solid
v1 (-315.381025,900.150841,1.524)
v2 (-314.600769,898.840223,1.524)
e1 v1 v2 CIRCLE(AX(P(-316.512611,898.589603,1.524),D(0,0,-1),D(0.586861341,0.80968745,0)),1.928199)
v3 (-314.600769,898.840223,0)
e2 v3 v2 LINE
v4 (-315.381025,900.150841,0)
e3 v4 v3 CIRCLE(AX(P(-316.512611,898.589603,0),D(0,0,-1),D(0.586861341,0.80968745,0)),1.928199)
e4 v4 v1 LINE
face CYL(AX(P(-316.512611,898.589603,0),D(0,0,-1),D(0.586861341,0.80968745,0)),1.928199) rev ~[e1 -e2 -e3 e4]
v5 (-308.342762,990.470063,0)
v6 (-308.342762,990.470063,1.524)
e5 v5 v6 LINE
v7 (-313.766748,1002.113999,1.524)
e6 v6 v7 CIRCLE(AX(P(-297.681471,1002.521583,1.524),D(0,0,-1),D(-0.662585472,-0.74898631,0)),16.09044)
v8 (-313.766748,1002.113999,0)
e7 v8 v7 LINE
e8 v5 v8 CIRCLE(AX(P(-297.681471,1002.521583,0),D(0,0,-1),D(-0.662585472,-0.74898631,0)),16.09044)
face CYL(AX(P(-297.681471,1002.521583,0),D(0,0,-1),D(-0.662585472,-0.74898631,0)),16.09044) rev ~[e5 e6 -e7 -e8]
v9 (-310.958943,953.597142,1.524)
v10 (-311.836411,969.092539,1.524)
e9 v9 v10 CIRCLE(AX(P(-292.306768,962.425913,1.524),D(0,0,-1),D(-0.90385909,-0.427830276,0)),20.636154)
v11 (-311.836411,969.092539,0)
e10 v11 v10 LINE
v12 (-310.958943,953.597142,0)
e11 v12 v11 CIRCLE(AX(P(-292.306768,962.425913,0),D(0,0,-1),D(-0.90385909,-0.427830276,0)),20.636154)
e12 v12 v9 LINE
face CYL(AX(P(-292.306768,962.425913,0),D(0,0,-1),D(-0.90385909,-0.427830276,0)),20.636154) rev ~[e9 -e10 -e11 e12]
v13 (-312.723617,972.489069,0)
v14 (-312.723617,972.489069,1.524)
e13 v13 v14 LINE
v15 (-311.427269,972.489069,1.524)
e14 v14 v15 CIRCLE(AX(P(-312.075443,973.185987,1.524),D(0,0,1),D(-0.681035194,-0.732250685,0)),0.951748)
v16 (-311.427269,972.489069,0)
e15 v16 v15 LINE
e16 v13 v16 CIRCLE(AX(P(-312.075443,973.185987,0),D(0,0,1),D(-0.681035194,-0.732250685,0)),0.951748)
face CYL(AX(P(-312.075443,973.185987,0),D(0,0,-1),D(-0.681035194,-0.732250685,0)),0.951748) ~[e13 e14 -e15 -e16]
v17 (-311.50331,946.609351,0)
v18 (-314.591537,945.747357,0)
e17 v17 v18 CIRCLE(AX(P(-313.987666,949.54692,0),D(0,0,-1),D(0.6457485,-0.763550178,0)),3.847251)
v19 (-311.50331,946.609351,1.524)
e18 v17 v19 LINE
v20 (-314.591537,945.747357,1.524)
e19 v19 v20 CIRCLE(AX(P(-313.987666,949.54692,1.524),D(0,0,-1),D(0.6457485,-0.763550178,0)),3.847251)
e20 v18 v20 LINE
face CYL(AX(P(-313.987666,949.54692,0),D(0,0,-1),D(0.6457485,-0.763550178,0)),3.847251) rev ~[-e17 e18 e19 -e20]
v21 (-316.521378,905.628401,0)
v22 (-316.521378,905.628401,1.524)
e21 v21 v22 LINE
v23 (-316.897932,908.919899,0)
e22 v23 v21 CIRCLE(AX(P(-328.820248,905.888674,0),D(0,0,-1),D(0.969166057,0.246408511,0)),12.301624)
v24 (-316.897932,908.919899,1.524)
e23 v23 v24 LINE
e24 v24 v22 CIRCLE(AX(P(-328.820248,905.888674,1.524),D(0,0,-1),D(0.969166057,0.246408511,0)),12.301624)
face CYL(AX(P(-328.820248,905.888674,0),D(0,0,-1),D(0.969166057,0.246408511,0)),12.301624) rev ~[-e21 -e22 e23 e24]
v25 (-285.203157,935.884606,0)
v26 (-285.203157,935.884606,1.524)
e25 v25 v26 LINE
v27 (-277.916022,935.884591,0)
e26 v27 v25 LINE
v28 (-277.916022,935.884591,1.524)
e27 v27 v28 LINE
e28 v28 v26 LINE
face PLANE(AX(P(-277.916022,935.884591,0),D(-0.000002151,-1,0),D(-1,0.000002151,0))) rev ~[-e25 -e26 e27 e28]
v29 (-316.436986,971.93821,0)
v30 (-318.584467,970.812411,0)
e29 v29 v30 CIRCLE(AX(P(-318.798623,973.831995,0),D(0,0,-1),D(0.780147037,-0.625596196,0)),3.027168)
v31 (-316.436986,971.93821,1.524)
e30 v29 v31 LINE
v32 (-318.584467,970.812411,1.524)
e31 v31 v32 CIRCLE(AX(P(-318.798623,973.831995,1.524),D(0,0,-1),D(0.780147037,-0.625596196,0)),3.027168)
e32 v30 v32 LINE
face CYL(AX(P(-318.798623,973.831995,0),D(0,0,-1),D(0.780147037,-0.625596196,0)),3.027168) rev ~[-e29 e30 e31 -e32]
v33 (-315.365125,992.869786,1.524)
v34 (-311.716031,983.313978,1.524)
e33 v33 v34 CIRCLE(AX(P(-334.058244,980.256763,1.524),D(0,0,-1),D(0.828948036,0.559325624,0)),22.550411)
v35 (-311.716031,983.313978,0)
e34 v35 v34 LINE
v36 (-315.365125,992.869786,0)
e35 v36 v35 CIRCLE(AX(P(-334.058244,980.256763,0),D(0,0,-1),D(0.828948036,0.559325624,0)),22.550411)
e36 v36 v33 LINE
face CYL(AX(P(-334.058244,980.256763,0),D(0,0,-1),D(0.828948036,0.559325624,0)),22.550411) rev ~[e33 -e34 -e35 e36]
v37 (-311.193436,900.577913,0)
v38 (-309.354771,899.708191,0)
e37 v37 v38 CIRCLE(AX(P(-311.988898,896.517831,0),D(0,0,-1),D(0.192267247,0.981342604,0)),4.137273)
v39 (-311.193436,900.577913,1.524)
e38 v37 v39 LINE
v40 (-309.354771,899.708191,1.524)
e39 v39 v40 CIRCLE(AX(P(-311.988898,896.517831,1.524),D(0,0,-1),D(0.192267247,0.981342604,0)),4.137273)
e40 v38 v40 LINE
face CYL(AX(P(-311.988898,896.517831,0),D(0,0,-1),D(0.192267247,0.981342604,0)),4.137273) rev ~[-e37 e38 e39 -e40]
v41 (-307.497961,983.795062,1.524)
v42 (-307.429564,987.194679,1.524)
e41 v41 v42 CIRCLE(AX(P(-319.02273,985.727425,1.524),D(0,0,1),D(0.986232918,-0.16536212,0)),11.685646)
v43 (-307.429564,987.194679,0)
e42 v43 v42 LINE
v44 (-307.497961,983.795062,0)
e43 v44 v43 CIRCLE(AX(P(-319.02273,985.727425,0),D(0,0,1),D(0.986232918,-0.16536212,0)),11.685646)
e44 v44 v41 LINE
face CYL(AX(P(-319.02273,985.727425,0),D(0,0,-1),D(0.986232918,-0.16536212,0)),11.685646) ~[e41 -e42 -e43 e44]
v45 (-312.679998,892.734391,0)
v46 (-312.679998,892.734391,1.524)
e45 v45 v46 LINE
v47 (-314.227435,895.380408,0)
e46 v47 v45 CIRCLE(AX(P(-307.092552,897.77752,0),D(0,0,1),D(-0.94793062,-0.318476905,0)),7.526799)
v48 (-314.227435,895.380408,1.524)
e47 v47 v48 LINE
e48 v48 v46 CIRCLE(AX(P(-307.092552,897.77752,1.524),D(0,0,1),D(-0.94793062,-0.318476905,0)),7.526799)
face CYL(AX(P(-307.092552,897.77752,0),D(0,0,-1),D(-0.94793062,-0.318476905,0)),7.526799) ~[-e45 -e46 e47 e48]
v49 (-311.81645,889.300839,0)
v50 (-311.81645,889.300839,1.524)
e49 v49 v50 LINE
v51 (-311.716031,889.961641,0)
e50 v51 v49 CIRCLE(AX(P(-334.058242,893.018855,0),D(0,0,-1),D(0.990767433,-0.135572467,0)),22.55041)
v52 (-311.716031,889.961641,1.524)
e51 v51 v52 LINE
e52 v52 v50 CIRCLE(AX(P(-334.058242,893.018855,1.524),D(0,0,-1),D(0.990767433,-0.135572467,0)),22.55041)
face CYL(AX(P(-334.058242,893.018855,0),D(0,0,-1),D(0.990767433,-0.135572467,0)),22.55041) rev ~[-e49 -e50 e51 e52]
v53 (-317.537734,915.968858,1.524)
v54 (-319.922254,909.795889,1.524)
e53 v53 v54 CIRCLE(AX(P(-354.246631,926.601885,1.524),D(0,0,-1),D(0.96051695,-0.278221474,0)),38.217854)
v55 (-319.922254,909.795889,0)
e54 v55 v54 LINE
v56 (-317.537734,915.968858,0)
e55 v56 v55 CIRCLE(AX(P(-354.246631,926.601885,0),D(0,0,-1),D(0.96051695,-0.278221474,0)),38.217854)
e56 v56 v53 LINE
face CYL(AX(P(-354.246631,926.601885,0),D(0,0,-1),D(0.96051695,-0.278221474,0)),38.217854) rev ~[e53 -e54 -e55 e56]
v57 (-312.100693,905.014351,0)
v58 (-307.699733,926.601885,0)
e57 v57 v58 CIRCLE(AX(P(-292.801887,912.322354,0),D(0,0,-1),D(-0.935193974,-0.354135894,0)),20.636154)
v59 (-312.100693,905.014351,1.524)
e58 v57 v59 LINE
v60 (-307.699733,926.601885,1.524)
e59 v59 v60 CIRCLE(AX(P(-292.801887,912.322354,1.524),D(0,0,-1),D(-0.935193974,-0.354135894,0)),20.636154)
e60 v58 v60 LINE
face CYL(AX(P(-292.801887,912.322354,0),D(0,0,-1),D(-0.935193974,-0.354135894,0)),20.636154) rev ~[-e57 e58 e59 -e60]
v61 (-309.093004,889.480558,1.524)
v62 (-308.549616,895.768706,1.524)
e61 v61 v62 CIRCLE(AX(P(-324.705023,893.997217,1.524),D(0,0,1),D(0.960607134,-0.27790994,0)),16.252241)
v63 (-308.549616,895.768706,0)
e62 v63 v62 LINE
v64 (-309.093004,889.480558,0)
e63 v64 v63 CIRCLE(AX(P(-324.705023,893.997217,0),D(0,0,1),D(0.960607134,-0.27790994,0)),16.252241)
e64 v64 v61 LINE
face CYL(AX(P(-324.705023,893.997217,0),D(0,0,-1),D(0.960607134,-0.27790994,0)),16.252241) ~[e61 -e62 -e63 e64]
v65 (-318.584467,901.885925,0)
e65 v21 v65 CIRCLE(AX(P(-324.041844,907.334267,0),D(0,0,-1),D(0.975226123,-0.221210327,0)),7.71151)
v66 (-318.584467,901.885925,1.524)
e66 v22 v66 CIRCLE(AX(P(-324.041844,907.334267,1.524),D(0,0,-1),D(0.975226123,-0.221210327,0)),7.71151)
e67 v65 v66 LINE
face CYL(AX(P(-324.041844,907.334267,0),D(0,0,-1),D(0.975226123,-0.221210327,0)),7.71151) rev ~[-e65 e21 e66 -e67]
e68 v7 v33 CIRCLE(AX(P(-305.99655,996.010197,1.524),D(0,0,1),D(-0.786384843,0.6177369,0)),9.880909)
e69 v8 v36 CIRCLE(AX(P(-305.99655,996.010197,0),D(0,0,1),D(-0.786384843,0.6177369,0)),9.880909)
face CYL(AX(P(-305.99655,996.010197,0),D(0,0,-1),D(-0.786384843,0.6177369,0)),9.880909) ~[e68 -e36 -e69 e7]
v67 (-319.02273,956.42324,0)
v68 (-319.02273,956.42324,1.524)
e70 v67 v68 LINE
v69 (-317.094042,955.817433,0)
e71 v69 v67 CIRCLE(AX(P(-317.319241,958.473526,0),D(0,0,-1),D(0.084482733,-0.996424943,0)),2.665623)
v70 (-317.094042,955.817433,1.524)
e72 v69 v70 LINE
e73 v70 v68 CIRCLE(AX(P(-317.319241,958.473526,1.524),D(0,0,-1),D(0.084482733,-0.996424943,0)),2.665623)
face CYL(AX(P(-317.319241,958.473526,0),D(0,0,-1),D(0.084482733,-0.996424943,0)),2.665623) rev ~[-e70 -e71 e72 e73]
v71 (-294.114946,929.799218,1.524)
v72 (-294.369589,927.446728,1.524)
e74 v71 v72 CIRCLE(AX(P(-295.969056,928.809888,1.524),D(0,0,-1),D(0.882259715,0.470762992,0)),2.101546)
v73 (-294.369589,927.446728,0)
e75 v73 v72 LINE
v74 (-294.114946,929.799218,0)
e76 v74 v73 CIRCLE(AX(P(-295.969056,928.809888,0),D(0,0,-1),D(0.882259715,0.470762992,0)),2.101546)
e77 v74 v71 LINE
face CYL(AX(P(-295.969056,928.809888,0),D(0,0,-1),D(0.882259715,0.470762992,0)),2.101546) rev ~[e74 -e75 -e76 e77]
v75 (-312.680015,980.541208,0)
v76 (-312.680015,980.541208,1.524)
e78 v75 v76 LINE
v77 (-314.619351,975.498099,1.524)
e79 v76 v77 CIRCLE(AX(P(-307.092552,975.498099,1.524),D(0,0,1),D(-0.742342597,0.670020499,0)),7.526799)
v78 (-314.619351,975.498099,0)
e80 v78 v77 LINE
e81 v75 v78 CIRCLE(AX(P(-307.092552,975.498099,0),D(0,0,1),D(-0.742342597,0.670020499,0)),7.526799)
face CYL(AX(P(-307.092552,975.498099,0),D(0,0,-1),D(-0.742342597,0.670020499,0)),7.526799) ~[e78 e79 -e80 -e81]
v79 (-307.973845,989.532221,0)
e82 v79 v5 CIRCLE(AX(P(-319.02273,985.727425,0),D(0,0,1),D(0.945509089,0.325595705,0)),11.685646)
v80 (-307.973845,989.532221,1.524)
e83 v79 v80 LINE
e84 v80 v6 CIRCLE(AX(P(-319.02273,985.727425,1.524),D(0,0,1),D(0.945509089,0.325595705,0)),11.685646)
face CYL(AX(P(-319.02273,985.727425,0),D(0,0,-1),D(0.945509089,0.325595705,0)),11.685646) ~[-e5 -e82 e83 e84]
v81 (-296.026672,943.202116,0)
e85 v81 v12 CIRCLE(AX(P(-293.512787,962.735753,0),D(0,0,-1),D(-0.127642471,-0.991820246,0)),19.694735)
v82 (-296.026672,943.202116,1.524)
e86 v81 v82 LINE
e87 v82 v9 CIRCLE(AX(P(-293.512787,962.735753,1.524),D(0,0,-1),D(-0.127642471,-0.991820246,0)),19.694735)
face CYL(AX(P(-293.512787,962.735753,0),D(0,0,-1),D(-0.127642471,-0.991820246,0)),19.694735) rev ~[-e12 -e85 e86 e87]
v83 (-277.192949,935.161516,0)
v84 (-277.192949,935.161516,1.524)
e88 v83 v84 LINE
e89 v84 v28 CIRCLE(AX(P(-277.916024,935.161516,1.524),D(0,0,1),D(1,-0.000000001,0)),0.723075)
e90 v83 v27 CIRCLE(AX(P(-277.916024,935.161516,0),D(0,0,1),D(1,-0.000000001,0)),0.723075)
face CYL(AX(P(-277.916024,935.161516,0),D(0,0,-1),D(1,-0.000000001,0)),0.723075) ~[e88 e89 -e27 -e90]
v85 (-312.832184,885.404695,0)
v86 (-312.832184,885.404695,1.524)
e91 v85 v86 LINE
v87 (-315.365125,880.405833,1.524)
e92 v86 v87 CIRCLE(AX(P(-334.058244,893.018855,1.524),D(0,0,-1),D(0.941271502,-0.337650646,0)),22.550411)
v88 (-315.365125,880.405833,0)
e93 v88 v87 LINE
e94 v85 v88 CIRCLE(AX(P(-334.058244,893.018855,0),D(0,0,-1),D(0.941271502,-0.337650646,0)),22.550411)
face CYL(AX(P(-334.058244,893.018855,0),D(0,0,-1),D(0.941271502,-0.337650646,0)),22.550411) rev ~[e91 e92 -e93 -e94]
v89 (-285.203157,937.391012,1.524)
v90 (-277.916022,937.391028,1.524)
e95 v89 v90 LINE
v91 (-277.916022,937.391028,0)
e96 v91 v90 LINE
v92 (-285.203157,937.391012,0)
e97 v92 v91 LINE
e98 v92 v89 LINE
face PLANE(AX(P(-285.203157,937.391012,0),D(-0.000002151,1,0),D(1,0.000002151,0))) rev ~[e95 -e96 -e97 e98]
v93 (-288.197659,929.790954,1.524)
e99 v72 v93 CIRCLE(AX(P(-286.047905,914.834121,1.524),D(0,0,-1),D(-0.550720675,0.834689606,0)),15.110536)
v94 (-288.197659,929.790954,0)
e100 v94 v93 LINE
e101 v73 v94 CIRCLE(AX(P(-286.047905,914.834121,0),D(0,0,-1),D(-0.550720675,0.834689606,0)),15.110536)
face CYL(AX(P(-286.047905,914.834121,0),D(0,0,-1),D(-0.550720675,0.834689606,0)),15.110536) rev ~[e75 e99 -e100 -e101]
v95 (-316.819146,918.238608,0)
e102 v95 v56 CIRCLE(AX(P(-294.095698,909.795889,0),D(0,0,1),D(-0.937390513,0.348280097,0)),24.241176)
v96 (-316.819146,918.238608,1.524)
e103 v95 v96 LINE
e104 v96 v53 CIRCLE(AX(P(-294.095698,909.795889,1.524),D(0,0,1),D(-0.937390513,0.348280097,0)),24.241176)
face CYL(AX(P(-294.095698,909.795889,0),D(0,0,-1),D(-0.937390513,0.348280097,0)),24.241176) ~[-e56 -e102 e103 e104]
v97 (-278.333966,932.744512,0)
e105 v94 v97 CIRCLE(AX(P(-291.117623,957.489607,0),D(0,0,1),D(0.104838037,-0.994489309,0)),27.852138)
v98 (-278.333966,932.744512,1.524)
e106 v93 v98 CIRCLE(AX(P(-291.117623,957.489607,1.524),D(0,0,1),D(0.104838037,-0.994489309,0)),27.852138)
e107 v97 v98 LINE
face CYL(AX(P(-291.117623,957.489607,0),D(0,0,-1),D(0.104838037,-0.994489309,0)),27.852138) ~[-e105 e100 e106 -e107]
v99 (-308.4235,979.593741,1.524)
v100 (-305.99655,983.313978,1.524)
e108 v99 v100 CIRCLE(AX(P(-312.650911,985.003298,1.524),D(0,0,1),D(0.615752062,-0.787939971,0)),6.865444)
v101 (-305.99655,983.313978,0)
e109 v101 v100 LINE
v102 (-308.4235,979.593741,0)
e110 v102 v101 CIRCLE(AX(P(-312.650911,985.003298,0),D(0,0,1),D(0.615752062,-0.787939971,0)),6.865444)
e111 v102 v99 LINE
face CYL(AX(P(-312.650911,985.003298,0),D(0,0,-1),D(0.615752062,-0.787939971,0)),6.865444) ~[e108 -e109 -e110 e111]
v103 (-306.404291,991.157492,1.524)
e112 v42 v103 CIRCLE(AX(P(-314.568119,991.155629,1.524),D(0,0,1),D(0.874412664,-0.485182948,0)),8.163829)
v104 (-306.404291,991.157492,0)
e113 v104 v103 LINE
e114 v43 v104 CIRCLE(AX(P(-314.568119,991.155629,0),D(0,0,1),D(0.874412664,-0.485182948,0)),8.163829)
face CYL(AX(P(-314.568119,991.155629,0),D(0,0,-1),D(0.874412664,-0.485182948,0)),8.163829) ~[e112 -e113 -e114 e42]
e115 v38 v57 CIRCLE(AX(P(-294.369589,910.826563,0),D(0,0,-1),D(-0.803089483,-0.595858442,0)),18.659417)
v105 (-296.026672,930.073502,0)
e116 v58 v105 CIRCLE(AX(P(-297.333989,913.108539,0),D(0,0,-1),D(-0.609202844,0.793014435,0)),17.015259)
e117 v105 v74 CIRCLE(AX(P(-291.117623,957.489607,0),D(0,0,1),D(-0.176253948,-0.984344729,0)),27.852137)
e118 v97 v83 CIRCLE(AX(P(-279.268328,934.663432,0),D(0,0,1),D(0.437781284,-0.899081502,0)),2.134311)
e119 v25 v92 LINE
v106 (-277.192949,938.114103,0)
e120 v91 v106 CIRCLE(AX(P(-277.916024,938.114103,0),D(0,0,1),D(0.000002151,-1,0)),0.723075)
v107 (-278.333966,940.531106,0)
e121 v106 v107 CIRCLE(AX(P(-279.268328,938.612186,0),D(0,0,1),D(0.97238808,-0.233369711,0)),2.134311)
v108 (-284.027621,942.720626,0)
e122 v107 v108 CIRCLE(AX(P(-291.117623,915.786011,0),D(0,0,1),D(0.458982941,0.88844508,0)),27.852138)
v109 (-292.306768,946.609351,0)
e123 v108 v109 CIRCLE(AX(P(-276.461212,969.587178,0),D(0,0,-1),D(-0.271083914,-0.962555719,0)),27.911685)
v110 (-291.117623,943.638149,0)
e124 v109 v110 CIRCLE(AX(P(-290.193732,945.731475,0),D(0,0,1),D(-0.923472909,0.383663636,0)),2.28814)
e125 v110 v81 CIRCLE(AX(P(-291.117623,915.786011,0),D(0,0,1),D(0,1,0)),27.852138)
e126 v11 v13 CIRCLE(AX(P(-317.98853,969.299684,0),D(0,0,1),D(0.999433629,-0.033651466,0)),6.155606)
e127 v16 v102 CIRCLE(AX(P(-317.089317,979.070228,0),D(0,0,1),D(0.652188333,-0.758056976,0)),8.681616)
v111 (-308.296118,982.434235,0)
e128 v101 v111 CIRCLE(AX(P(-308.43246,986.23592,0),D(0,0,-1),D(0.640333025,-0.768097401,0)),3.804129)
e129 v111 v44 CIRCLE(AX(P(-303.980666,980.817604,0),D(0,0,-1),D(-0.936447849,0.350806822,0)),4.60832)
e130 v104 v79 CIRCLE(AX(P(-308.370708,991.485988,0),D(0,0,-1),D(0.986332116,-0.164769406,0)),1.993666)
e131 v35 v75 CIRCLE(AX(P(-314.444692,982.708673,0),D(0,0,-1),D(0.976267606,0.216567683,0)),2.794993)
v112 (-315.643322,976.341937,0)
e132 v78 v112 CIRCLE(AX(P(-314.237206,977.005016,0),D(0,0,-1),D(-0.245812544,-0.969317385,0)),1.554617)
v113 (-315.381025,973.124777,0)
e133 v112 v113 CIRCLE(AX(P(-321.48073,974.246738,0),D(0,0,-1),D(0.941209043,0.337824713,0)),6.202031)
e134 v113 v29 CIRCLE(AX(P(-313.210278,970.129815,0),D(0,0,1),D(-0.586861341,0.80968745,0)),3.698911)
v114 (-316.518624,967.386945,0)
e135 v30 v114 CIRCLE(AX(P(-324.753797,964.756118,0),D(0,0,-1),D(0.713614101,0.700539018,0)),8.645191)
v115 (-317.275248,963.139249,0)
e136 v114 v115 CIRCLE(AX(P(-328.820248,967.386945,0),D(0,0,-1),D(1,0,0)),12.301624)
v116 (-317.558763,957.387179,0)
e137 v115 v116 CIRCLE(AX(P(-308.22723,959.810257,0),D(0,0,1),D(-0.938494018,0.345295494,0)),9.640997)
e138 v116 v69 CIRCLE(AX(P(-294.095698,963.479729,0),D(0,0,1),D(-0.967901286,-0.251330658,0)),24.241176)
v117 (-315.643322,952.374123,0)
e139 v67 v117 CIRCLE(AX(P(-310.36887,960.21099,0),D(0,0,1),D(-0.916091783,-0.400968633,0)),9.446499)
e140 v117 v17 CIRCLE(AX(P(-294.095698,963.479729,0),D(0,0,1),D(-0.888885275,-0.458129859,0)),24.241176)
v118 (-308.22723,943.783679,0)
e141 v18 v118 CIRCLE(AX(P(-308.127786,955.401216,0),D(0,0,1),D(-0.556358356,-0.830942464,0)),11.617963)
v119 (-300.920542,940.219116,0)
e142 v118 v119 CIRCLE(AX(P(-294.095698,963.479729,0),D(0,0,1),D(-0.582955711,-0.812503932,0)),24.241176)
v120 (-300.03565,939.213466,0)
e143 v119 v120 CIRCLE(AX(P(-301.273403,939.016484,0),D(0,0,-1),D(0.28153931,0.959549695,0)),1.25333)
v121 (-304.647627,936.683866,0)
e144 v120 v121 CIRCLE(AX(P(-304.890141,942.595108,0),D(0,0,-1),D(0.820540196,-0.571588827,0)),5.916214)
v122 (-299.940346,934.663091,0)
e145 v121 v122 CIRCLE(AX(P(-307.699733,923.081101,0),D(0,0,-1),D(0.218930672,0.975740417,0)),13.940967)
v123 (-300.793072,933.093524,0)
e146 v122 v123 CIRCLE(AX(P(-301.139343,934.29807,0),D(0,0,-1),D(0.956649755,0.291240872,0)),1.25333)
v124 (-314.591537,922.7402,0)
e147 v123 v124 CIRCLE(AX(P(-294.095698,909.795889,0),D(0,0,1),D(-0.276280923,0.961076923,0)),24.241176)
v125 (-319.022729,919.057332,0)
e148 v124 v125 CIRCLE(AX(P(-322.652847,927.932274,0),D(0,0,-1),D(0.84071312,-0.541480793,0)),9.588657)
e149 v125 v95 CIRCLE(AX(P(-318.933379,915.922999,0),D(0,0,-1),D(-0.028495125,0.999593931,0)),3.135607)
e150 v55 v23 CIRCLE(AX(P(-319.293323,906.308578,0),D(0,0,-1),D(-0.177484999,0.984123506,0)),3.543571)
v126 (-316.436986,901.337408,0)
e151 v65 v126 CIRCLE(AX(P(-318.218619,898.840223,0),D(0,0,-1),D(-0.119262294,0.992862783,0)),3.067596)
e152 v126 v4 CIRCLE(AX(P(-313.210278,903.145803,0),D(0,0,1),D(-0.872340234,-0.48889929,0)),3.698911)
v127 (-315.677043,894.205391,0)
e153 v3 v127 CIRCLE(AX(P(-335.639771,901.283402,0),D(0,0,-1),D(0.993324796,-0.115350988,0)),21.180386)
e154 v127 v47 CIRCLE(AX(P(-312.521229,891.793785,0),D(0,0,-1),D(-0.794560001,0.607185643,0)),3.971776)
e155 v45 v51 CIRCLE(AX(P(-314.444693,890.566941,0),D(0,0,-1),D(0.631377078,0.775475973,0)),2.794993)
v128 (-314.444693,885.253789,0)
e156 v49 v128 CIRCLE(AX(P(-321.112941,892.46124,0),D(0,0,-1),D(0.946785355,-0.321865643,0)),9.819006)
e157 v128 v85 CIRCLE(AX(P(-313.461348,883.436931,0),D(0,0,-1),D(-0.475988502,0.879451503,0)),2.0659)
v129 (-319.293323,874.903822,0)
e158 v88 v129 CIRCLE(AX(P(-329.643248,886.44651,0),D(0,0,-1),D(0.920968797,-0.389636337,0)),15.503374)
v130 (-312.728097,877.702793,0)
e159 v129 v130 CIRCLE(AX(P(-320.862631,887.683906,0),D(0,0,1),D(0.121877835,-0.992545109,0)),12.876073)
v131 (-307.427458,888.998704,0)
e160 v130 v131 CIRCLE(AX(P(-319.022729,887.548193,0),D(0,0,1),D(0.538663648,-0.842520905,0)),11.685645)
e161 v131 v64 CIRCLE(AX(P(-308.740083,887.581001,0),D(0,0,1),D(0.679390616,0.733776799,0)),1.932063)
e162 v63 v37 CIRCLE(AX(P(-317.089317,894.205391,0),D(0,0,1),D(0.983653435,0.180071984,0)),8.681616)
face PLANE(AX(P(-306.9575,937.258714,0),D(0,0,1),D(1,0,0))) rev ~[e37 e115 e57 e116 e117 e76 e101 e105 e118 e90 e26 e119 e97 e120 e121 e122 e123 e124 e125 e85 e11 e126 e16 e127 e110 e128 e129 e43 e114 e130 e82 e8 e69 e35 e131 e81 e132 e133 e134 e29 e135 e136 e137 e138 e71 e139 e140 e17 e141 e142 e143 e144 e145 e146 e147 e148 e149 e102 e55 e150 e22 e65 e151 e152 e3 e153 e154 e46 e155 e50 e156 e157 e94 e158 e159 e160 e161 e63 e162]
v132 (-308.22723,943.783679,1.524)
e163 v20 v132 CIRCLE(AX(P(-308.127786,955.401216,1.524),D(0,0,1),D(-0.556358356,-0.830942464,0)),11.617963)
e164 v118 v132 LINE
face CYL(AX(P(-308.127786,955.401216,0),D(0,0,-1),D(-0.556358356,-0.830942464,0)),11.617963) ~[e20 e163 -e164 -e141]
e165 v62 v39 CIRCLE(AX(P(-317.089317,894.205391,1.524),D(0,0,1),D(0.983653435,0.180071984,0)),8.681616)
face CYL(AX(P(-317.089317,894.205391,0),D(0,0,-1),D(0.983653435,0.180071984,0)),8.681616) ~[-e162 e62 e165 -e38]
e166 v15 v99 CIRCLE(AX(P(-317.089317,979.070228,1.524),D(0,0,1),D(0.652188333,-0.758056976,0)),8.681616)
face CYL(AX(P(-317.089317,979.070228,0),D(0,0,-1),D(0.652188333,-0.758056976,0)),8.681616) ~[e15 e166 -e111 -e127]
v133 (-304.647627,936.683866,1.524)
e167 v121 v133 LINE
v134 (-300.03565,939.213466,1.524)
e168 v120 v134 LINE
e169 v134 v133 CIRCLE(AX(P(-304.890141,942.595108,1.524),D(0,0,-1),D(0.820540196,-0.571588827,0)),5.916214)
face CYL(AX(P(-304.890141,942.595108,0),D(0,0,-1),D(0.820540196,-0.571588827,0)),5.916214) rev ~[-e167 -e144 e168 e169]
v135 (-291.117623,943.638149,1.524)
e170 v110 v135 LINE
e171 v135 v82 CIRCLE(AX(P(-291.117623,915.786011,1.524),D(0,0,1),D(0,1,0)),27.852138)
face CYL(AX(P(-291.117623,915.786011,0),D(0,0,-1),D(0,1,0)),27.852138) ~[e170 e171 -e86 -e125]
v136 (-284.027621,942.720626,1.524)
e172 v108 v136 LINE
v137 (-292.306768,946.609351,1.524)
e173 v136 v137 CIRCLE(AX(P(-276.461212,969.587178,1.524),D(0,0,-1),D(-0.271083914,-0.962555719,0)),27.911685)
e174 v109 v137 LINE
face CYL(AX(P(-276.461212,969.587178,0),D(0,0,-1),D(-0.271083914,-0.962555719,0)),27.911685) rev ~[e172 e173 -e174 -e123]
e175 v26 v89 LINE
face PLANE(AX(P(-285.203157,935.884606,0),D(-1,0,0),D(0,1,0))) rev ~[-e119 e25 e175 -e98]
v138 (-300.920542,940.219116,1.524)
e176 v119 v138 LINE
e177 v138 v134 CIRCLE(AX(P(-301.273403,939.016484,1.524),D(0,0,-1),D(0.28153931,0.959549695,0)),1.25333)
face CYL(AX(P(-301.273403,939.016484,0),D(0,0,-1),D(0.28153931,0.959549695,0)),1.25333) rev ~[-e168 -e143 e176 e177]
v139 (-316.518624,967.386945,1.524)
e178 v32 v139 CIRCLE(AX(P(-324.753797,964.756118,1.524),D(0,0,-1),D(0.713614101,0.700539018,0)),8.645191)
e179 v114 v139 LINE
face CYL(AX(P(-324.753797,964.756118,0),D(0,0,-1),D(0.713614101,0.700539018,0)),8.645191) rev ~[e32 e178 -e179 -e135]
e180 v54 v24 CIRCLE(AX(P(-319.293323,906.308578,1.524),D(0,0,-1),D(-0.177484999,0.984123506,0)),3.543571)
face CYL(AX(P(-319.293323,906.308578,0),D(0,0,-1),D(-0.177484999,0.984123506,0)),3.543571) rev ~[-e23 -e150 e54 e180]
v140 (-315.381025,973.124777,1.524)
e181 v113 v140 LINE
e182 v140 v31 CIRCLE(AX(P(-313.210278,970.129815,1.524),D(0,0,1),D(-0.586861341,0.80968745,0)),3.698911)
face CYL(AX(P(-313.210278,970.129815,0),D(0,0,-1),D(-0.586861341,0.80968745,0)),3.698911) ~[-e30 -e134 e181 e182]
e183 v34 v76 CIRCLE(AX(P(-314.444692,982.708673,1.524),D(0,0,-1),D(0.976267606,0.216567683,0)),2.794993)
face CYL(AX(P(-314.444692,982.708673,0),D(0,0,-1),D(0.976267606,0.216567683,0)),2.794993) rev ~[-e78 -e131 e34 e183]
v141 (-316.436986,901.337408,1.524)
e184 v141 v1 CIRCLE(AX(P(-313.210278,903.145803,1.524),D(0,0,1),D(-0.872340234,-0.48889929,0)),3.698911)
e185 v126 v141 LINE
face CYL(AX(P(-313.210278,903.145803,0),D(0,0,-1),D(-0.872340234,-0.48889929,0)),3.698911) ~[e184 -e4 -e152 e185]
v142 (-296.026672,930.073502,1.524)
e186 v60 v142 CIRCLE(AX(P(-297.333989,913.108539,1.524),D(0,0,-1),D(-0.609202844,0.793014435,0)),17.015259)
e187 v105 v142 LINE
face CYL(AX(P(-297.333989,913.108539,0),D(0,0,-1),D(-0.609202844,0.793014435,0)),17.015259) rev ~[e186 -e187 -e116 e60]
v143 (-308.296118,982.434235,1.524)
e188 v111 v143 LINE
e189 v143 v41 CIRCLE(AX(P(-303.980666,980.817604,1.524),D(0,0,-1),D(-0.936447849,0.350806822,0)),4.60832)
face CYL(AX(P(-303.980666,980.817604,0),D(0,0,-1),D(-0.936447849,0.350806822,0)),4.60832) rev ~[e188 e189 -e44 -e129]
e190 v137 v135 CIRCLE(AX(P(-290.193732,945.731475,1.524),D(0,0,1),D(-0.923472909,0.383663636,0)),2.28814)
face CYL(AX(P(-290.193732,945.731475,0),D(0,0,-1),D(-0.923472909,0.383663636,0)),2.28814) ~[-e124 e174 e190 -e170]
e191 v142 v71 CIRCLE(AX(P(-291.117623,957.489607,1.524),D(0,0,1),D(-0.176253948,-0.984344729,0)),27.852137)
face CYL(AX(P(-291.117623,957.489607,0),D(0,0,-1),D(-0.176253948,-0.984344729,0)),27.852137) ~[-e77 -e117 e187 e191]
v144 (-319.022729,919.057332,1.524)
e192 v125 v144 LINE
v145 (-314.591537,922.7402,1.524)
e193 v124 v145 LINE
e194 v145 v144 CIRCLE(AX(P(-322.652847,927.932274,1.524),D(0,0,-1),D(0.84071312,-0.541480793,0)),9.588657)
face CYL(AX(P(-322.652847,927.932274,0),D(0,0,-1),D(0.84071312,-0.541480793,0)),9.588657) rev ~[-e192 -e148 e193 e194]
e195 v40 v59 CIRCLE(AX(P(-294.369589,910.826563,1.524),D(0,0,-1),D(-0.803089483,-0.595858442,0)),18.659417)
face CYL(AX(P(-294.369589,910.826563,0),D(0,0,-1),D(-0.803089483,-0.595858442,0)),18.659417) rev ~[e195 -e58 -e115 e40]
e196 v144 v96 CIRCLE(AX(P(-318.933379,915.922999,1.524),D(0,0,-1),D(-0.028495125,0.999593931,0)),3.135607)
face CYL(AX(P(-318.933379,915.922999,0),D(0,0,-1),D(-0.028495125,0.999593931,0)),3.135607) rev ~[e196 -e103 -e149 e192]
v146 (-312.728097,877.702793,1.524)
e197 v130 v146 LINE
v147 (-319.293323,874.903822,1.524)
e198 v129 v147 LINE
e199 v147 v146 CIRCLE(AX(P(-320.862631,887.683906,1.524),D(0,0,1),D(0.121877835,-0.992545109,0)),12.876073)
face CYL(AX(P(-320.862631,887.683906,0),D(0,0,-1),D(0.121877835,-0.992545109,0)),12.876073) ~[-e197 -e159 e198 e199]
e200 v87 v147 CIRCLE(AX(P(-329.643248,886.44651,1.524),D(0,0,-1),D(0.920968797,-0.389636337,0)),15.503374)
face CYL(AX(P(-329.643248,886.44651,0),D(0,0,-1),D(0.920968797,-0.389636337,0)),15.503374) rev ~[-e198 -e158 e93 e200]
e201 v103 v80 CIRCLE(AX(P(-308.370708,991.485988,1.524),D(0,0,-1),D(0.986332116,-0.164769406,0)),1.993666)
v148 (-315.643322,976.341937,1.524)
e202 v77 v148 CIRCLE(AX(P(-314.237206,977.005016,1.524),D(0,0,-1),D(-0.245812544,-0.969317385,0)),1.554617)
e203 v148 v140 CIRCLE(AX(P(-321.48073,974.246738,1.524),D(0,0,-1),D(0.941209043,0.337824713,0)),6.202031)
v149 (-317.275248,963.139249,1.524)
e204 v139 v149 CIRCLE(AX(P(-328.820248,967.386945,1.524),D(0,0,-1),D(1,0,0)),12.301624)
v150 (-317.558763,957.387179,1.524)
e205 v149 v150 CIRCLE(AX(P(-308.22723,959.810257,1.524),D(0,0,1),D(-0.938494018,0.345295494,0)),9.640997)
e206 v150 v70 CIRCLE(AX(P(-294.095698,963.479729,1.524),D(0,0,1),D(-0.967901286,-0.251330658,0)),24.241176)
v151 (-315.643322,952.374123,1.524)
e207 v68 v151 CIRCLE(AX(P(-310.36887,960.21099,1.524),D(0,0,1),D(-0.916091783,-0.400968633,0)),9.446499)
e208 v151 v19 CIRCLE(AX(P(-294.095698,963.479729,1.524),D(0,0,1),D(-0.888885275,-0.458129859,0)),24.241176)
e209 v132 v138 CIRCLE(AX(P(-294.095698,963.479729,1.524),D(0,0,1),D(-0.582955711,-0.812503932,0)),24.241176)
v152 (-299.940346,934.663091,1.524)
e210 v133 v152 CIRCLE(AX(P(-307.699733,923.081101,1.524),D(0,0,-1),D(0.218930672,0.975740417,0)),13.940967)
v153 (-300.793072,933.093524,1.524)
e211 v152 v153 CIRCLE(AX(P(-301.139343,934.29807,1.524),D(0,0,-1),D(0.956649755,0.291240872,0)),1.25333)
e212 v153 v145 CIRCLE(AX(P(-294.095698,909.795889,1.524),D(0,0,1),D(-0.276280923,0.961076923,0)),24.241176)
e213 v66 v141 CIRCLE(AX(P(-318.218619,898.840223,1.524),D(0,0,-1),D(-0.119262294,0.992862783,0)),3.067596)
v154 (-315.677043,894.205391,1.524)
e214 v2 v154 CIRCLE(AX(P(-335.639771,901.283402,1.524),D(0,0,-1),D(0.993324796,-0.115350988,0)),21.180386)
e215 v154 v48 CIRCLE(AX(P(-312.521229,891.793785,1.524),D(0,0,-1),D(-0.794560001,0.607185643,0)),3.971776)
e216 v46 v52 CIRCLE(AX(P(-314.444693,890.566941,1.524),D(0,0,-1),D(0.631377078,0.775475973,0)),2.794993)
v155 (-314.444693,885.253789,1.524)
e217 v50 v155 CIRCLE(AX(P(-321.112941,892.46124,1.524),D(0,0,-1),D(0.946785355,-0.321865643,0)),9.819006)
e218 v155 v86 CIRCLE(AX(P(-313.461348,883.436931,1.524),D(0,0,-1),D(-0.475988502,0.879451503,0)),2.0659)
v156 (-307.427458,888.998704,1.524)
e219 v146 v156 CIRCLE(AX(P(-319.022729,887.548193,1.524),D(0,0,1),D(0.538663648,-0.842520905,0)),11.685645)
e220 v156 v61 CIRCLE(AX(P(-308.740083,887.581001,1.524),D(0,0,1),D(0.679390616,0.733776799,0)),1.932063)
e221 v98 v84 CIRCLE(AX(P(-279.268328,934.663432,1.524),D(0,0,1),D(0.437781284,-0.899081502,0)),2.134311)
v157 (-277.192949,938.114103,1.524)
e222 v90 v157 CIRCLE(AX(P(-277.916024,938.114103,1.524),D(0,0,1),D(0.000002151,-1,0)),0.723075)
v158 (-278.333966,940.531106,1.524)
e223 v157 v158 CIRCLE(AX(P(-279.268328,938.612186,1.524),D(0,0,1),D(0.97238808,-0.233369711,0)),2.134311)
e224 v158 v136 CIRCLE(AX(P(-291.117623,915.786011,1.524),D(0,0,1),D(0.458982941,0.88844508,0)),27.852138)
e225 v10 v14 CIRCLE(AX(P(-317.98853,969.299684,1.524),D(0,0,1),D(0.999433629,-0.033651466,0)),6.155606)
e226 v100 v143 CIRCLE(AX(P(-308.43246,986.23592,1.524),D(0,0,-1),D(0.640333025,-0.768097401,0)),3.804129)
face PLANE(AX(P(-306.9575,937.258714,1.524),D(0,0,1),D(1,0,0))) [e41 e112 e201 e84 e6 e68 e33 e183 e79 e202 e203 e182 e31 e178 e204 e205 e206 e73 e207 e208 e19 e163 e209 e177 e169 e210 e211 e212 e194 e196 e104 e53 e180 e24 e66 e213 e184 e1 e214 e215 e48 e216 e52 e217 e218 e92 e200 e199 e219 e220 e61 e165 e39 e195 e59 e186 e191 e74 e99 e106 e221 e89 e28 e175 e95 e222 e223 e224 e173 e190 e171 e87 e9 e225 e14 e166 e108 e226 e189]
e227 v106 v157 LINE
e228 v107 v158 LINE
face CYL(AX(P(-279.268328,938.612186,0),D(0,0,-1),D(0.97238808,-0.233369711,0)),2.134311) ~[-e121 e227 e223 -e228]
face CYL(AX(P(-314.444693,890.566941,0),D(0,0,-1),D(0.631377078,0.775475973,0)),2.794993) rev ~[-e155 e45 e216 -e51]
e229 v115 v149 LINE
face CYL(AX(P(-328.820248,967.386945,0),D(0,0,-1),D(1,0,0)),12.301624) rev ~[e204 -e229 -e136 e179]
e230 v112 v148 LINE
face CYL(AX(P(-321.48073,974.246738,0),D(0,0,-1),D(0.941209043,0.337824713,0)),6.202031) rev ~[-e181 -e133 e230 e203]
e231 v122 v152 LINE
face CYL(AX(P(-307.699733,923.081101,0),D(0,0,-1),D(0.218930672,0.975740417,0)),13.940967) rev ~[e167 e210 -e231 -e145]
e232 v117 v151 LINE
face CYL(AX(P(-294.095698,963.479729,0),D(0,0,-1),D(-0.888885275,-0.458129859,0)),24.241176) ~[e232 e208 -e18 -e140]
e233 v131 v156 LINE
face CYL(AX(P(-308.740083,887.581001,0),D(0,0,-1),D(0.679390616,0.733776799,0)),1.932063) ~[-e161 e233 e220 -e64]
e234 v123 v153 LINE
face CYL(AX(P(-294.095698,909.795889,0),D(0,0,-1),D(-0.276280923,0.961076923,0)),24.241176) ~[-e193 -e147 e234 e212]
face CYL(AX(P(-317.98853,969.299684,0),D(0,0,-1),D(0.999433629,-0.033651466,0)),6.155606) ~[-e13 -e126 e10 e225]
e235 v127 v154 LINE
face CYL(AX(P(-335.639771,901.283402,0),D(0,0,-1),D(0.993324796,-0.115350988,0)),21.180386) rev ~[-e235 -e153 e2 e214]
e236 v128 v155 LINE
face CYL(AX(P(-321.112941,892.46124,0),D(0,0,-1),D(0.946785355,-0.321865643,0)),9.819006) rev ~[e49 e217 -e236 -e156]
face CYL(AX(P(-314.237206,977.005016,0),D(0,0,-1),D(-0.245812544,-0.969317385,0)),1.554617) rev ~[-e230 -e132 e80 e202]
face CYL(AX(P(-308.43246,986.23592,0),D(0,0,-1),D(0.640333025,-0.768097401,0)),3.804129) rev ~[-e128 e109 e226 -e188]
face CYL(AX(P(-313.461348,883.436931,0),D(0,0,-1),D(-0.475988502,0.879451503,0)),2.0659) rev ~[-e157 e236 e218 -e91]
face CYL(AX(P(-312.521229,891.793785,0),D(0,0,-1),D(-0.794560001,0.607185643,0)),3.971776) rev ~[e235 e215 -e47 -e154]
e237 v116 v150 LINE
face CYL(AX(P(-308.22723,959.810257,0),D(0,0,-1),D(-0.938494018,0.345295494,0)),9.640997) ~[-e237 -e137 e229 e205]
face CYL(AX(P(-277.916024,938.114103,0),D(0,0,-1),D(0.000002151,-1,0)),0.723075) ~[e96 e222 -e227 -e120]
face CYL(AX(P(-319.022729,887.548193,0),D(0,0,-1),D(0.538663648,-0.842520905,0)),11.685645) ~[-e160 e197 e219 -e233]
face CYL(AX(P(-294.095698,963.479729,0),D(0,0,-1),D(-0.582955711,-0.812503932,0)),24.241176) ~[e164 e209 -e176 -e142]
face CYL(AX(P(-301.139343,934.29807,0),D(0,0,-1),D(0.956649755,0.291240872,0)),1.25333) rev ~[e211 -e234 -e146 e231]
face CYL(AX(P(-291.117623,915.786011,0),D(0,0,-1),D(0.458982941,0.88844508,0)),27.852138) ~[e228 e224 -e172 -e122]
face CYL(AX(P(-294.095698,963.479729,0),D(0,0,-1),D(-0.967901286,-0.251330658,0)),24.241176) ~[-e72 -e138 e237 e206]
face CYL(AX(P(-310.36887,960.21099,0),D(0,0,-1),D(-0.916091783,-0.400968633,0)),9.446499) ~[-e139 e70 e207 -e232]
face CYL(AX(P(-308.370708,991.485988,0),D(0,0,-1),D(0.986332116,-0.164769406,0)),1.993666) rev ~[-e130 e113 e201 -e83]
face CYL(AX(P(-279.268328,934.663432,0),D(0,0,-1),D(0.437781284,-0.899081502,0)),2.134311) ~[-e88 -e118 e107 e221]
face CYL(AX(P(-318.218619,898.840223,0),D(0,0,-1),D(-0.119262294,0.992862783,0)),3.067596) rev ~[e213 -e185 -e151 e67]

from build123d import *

# Parameters (mm, degrees)
BOSS_EXTRUDE1_DEPTH = 1.524


with BuildPart() as part:
    # Sketch1 → Boss-Extrude1 (new body)
    with BuildSketch(Plane.XY):
        with BuildLine():
            Line((-277.916022261, 935.884590671), (-285.203156616, 935.884606348))
            Line((-285.203156616, 935.884606348), (-285.203156616, 937.391012124))
            Line((-285.203156616, 937.391012124), (-277.916022261, 937.391027801))
            ThreePointArc((-277.916022261, 937.391027801), (-277.404732191, 937.602812049), (-277.192949044, 938.114102574))
            ThreePointArc((-277.192949044, 938.114102574), (-277.338273323, 939.523325046), (-278.333966376, 940.531106008))
            ThreePointArc((-278.333966376, 940.531106008), (-281.120669571, 941.782213098), (-284.027620805, 942.720625679))
            ThreePointArc((-284.027620805, 942.720625679), (-288.327575015, 944.323536073), (-292.30676806, 946.609351169))
            ThreePointArc((-292.30676806, 946.609351169), (-292.318053521, 944.881271306), (-291.117622598, 943.638149038))
            ThreePointArc((-291.117622598, 943.638149038), (-293.581810552, 943.528926691), (-296.026671847, 943.202116281))
            ThreePointArc((-296.026671847, 943.202116281), (-304.765117762, 946.571977556), (-310.958943201, 953.597141502))
            ThreePointArc((-310.958943201, 953.597141502), (-312.909914326, 961.259205892), (-311.83641056, 969.092539073))
            ThreePointArc((-311.83641056, 969.092539073), (-312.032754546, 970.855390285), (-312.723616891, 972.489068521))
            ThreePointArc((-312.723616891, 972.489068521), (-312.075442701, 972.234238525), (-311.427268511, 972.489068521))
            ThreePointArc((-311.427268511, 972.489068521), (-309.093003832, 975.689484265), (-308.423499884, 979.593740531))
            ThreePointArc((-308.423499884, 979.593740531), (-306.900843126, 981.252159973), (-305.996550373, 983.313977924))
            ThreePointArc((-305.996550373, 983.313977924), (-307.073192817, 982.682922072), (-308.296117566, 982.434234514))
            ThreePointArc((-308.296117566, 982.434234514), (-307.955705891, 983.149057367), (-307.497960974, 983.795061554))
            ThreePointArc((-307.497960974, 983.795061554), (-307.339448033, 985.49236907), (-307.429564156, 987.194678748))
            ThreePointArc((-307.429564156, 987.194678748), (-306.664530959, 989.110784639), (-306.404290892, 991.157492406))
            ThreePointArc((-306.404290892, 991.157492406), (-306.936605496, 990.101048934), (-307.973845227, 989.532220851))
            ThreePointArc((-307.973845227, 989.532220851), (-308.148188947, 990.005120957), (-308.342762435, 990.47006332))
            ThreePointArc((-308.342762435, 990.47006332), (-312.267081574, 995.727304596), (-313.766747643, 1002.113999219))
            ThreePointArc((-313.766747643, 1002.113999219), (-315.73298932, 997.693682682), (-315.365124744, 992.869785889))
            ThreePointArc((-315.365124744, 992.869785889), (-312.991611752, 988.301516567), (-311.716030786, 983.313977924))
            ThreePointArc((-311.716030786, 983.313977924), (-311.804694988, 981.790848195), (-312.68001538, 980.541208357))
            ThreePointArc((-312.68001538, 980.541208357), (-314.117806981, 978.199671225), (-314.619350909, 975.498098624))
            ThreePointArc((-314.619350909, 975.498098624), (-315.225884586, 975.805286829), (-315.64332213, 976.341937173))
            ThreePointArc((-315.64332213, 976.341937173), (-315.299209722, 974.750720167), (-315.381025476, 973.124777027))
            ThreePointArc((-315.381025476, 973.124777027), (-315.973449697, 972.588843997), (-316.436986467, 971.938210203))
            ThreePointArc((-316.436986467, 971.938210203), (-317.393086767, 971.150910263), (-318.584467297, 970.812411499))
            ThreePointArc((-318.584467297, 970.812411499), (-317.350697798, 969.220806246), (-316.518624321, 967.386944694))
            ThreePointArc((-316.518624321, 967.386944694), (-316.709257262, 965.229666664), (-317.275247771, 963.139249442))
            ThreePointArc((-317.275247771, 963.139249442), (-317.856536979, 960.284878164), (-317.558763157, 957.387178511))
            ThreePointArc((-317.558763157, 957.387178511), (-317.339657536, 956.598381541), (-317.094041757, 955.817432873))
            ThreePointArc((-317.094041757, 955.817432873), (-318.118043569, 955.930405975), (-319.022729617, 956.423240417))
            ThreePointArc((-319.022729617, 956.423240417), (-317.621338919, 954.158054516), (-315.64332213, 952.374122723))
            ThreePointArc((-315.64332213, 952.374122723), (-313.785435132, 949.339402014), (-311.503309748, 946.609351169))
            ThreePointArc((-311.503309748, 946.609351169), (-312.953347628, 945.841313107), (-314.591537057, 945.747357192))
            ThreePointArc((-314.591537057, 945.747357192), (-311.553116659, 944.299676635), (-308.227229789, 943.78367854))
            ThreePointArc((-308.227229789, 943.78367854), (-304.724383034, 941.692906178), (-300.920541819, 940.219116344))
            ThreePointArc((-300.920541819, 940.219116344), (-300.33247451, 939.844426317), (-300.035650029, 939.213465936))
            ThreePointArc((-300.035650029, 939.213465936), (-302.045043086, 937.407911663), (-304.647627414, 936.683866421))
            ThreePointArc((-304.647627414, 936.683866421), (-302.200371512, 935.891549854), (-299.94034594, 934.663090898))
            ThreePointArc((-299.94034594, 934.663090898), (-300.038049245, 933.69975054), (-300.79307234, 933.093523928))
            ThreePointArc((-300.79307234, 933.093523928), (-308.644427917, 929.185810881), (-314.591537057, 922.740200085))
            ThreePointArc((-314.591537057, 922.740200085), (-316.523960255, 920.558055545), (-319.022728662, 919.057332166))
            ThreePointArc((-319.022728662, 919.057332166), (-317.841309798, 918.862286718), (-316.819146135, 918.238608351))
            ThreePointArc((-316.819146135, 918.238608351), (-317.206321698, 917.112560154), (-317.537734191, 915.968857736))
            ThreePointArc((-317.537734191, 915.968857736), (-318.596134624, 912.830665778), (-319.922253722, 909.795889281))
            ThreePointArc((-319.922253722, 909.795889281), (-318.307455112, 909.712246343), (-316.897931891, 908.919898577))
            ThreePointArc((-316.897931891, 908.919898577), (-316.598343369, 907.286884178), (-316.521377997, 905.628401245))
            ThreePointArc((-316.521377997, 905.628401245), (-317.288501726, 903.611397757), (-318.584467297, 901.885925322))
            ThreePointArc((-318.584467297, 901.885925322), (-317.459455632, 901.812397156), (-316.436986467, 901.337408268))
            ThreePointArc((-316.436986467, 901.337408268), (-315.973449697, 900.686774475), (-315.381025476, 900.150841445))
            ThreePointArc((-315.381025476, 900.150841445), (-314.855793688, 899.575963976), (-314.600768516, 898.84022306))
            ThreePointArc((-314.600768516, 898.84022306), (-315.008341261, 896.492487869), (-315.677043026, 894.205390577))
            ThreePointArc((-315.677043026, 894.205390577), (-315.022224116, 894.879239219), (-314.227435144, 895.380408141))
            ThreePointArc((-314.227435144, 895.380408141), (-313.589841267, 893.977791631), (-312.679998267, 892.734391155))
            ThreePointArc((-312.679998267, 892.734391155), (-311.804692825, 891.484757082), (-311.716030786, 889.961640548))
            ThreePointArc((-311.716030786, 889.961640548), (-311.763791905, 889.630867843), (-311.816449784, 889.300839277))
            ThreePointArc((-311.816449784, 889.300839277), (-312.878083338, 887.113343117), (-314.444692648, 885.253789266))
            ThreePointArc((-314.444692648, 885.253789266), (-313.65384255, 885.493842794), (-312.832184374, 885.404694518))
            ThreePointArc((-312.832184374, 885.404694518), (-313.94276822, 882.826275412), (-315.365124744, 880.405832583))
            ThreePointArc((-315.365124744, 880.405832583), (-317.025672215, 877.438104616), (-319.293323049, 874.903822293))
            ThreePointArc((-319.293323049, 874.903822293), (-315.812908434, 875.83934739), (-312.728096674, 877.702792989))
            ThreePointArc((-312.728096674, 877.702792989), (-308.443902691, 882.584048211), (-307.427457693, 888.998704102))
            ThreePointArc((-307.427457693, 888.998704102), (-308.20314369, 889.43695462), (-309.093003832, 889.480557515))
            ThreePointArc((-309.093003832, 889.480557515), (-308.513125406, 892.598000293), (-308.54961586, 895.768706352))
            ThreePointArc((-308.54961586, 895.768706352), (-309.481516734, 898.387713723), (-311.193435925, 900.577912695))
            ThreePointArc((-311.193435925, 900.577912695), (-310.219823691, 900.257804208), (-309.354771115, 899.708191378))
            ThreePointArc((-309.354771115, 899.708191378), (-310.941483354, 902.250655609), (-312.100693339, 905.014351016))
            ThreePointArc((-312.100693339, 905.014351016), (-313.022128407, 916.44457007), (-307.699732777, 926.601885411))
            ThreePointArc((-307.699732777, 926.601885411), (-302.18443266, 929.41780767), (-296.026671847, 930.073502191))
            ThreePointArc((-296.026671847, 930.073502191), (-295.073187001, 929.919785137), (-294.114945931, 929.799218415))
            ThreePointArc((-294.114945931, 929.799218415), (-293.879713809, 928.583729022), (-294.369589284, 927.446728303))
            ThreePointArc((-294.369589284, 927.446728303), (-291.413219904, 928.960043614), (-288.197659122, 929.790953956))
            ThreePointArc((-288.197659122, 929.790953956), (-283.128142335, 930.80796962), (-278.333966376, 932.744512464))
            ThreePointArc((-278.333966376, 932.744512464), (-277.338273323, 933.752293426), (-277.192949044, 935.161515898))
            ThreePointArc((-277.192949044, 935.161515898), (-277.404732191, 935.672806423), (-277.916022261, 935.884590671))
        make_face()
    extrude(amount=BOSS_EXTRUDE1_DEPTH)


solid = part.part
